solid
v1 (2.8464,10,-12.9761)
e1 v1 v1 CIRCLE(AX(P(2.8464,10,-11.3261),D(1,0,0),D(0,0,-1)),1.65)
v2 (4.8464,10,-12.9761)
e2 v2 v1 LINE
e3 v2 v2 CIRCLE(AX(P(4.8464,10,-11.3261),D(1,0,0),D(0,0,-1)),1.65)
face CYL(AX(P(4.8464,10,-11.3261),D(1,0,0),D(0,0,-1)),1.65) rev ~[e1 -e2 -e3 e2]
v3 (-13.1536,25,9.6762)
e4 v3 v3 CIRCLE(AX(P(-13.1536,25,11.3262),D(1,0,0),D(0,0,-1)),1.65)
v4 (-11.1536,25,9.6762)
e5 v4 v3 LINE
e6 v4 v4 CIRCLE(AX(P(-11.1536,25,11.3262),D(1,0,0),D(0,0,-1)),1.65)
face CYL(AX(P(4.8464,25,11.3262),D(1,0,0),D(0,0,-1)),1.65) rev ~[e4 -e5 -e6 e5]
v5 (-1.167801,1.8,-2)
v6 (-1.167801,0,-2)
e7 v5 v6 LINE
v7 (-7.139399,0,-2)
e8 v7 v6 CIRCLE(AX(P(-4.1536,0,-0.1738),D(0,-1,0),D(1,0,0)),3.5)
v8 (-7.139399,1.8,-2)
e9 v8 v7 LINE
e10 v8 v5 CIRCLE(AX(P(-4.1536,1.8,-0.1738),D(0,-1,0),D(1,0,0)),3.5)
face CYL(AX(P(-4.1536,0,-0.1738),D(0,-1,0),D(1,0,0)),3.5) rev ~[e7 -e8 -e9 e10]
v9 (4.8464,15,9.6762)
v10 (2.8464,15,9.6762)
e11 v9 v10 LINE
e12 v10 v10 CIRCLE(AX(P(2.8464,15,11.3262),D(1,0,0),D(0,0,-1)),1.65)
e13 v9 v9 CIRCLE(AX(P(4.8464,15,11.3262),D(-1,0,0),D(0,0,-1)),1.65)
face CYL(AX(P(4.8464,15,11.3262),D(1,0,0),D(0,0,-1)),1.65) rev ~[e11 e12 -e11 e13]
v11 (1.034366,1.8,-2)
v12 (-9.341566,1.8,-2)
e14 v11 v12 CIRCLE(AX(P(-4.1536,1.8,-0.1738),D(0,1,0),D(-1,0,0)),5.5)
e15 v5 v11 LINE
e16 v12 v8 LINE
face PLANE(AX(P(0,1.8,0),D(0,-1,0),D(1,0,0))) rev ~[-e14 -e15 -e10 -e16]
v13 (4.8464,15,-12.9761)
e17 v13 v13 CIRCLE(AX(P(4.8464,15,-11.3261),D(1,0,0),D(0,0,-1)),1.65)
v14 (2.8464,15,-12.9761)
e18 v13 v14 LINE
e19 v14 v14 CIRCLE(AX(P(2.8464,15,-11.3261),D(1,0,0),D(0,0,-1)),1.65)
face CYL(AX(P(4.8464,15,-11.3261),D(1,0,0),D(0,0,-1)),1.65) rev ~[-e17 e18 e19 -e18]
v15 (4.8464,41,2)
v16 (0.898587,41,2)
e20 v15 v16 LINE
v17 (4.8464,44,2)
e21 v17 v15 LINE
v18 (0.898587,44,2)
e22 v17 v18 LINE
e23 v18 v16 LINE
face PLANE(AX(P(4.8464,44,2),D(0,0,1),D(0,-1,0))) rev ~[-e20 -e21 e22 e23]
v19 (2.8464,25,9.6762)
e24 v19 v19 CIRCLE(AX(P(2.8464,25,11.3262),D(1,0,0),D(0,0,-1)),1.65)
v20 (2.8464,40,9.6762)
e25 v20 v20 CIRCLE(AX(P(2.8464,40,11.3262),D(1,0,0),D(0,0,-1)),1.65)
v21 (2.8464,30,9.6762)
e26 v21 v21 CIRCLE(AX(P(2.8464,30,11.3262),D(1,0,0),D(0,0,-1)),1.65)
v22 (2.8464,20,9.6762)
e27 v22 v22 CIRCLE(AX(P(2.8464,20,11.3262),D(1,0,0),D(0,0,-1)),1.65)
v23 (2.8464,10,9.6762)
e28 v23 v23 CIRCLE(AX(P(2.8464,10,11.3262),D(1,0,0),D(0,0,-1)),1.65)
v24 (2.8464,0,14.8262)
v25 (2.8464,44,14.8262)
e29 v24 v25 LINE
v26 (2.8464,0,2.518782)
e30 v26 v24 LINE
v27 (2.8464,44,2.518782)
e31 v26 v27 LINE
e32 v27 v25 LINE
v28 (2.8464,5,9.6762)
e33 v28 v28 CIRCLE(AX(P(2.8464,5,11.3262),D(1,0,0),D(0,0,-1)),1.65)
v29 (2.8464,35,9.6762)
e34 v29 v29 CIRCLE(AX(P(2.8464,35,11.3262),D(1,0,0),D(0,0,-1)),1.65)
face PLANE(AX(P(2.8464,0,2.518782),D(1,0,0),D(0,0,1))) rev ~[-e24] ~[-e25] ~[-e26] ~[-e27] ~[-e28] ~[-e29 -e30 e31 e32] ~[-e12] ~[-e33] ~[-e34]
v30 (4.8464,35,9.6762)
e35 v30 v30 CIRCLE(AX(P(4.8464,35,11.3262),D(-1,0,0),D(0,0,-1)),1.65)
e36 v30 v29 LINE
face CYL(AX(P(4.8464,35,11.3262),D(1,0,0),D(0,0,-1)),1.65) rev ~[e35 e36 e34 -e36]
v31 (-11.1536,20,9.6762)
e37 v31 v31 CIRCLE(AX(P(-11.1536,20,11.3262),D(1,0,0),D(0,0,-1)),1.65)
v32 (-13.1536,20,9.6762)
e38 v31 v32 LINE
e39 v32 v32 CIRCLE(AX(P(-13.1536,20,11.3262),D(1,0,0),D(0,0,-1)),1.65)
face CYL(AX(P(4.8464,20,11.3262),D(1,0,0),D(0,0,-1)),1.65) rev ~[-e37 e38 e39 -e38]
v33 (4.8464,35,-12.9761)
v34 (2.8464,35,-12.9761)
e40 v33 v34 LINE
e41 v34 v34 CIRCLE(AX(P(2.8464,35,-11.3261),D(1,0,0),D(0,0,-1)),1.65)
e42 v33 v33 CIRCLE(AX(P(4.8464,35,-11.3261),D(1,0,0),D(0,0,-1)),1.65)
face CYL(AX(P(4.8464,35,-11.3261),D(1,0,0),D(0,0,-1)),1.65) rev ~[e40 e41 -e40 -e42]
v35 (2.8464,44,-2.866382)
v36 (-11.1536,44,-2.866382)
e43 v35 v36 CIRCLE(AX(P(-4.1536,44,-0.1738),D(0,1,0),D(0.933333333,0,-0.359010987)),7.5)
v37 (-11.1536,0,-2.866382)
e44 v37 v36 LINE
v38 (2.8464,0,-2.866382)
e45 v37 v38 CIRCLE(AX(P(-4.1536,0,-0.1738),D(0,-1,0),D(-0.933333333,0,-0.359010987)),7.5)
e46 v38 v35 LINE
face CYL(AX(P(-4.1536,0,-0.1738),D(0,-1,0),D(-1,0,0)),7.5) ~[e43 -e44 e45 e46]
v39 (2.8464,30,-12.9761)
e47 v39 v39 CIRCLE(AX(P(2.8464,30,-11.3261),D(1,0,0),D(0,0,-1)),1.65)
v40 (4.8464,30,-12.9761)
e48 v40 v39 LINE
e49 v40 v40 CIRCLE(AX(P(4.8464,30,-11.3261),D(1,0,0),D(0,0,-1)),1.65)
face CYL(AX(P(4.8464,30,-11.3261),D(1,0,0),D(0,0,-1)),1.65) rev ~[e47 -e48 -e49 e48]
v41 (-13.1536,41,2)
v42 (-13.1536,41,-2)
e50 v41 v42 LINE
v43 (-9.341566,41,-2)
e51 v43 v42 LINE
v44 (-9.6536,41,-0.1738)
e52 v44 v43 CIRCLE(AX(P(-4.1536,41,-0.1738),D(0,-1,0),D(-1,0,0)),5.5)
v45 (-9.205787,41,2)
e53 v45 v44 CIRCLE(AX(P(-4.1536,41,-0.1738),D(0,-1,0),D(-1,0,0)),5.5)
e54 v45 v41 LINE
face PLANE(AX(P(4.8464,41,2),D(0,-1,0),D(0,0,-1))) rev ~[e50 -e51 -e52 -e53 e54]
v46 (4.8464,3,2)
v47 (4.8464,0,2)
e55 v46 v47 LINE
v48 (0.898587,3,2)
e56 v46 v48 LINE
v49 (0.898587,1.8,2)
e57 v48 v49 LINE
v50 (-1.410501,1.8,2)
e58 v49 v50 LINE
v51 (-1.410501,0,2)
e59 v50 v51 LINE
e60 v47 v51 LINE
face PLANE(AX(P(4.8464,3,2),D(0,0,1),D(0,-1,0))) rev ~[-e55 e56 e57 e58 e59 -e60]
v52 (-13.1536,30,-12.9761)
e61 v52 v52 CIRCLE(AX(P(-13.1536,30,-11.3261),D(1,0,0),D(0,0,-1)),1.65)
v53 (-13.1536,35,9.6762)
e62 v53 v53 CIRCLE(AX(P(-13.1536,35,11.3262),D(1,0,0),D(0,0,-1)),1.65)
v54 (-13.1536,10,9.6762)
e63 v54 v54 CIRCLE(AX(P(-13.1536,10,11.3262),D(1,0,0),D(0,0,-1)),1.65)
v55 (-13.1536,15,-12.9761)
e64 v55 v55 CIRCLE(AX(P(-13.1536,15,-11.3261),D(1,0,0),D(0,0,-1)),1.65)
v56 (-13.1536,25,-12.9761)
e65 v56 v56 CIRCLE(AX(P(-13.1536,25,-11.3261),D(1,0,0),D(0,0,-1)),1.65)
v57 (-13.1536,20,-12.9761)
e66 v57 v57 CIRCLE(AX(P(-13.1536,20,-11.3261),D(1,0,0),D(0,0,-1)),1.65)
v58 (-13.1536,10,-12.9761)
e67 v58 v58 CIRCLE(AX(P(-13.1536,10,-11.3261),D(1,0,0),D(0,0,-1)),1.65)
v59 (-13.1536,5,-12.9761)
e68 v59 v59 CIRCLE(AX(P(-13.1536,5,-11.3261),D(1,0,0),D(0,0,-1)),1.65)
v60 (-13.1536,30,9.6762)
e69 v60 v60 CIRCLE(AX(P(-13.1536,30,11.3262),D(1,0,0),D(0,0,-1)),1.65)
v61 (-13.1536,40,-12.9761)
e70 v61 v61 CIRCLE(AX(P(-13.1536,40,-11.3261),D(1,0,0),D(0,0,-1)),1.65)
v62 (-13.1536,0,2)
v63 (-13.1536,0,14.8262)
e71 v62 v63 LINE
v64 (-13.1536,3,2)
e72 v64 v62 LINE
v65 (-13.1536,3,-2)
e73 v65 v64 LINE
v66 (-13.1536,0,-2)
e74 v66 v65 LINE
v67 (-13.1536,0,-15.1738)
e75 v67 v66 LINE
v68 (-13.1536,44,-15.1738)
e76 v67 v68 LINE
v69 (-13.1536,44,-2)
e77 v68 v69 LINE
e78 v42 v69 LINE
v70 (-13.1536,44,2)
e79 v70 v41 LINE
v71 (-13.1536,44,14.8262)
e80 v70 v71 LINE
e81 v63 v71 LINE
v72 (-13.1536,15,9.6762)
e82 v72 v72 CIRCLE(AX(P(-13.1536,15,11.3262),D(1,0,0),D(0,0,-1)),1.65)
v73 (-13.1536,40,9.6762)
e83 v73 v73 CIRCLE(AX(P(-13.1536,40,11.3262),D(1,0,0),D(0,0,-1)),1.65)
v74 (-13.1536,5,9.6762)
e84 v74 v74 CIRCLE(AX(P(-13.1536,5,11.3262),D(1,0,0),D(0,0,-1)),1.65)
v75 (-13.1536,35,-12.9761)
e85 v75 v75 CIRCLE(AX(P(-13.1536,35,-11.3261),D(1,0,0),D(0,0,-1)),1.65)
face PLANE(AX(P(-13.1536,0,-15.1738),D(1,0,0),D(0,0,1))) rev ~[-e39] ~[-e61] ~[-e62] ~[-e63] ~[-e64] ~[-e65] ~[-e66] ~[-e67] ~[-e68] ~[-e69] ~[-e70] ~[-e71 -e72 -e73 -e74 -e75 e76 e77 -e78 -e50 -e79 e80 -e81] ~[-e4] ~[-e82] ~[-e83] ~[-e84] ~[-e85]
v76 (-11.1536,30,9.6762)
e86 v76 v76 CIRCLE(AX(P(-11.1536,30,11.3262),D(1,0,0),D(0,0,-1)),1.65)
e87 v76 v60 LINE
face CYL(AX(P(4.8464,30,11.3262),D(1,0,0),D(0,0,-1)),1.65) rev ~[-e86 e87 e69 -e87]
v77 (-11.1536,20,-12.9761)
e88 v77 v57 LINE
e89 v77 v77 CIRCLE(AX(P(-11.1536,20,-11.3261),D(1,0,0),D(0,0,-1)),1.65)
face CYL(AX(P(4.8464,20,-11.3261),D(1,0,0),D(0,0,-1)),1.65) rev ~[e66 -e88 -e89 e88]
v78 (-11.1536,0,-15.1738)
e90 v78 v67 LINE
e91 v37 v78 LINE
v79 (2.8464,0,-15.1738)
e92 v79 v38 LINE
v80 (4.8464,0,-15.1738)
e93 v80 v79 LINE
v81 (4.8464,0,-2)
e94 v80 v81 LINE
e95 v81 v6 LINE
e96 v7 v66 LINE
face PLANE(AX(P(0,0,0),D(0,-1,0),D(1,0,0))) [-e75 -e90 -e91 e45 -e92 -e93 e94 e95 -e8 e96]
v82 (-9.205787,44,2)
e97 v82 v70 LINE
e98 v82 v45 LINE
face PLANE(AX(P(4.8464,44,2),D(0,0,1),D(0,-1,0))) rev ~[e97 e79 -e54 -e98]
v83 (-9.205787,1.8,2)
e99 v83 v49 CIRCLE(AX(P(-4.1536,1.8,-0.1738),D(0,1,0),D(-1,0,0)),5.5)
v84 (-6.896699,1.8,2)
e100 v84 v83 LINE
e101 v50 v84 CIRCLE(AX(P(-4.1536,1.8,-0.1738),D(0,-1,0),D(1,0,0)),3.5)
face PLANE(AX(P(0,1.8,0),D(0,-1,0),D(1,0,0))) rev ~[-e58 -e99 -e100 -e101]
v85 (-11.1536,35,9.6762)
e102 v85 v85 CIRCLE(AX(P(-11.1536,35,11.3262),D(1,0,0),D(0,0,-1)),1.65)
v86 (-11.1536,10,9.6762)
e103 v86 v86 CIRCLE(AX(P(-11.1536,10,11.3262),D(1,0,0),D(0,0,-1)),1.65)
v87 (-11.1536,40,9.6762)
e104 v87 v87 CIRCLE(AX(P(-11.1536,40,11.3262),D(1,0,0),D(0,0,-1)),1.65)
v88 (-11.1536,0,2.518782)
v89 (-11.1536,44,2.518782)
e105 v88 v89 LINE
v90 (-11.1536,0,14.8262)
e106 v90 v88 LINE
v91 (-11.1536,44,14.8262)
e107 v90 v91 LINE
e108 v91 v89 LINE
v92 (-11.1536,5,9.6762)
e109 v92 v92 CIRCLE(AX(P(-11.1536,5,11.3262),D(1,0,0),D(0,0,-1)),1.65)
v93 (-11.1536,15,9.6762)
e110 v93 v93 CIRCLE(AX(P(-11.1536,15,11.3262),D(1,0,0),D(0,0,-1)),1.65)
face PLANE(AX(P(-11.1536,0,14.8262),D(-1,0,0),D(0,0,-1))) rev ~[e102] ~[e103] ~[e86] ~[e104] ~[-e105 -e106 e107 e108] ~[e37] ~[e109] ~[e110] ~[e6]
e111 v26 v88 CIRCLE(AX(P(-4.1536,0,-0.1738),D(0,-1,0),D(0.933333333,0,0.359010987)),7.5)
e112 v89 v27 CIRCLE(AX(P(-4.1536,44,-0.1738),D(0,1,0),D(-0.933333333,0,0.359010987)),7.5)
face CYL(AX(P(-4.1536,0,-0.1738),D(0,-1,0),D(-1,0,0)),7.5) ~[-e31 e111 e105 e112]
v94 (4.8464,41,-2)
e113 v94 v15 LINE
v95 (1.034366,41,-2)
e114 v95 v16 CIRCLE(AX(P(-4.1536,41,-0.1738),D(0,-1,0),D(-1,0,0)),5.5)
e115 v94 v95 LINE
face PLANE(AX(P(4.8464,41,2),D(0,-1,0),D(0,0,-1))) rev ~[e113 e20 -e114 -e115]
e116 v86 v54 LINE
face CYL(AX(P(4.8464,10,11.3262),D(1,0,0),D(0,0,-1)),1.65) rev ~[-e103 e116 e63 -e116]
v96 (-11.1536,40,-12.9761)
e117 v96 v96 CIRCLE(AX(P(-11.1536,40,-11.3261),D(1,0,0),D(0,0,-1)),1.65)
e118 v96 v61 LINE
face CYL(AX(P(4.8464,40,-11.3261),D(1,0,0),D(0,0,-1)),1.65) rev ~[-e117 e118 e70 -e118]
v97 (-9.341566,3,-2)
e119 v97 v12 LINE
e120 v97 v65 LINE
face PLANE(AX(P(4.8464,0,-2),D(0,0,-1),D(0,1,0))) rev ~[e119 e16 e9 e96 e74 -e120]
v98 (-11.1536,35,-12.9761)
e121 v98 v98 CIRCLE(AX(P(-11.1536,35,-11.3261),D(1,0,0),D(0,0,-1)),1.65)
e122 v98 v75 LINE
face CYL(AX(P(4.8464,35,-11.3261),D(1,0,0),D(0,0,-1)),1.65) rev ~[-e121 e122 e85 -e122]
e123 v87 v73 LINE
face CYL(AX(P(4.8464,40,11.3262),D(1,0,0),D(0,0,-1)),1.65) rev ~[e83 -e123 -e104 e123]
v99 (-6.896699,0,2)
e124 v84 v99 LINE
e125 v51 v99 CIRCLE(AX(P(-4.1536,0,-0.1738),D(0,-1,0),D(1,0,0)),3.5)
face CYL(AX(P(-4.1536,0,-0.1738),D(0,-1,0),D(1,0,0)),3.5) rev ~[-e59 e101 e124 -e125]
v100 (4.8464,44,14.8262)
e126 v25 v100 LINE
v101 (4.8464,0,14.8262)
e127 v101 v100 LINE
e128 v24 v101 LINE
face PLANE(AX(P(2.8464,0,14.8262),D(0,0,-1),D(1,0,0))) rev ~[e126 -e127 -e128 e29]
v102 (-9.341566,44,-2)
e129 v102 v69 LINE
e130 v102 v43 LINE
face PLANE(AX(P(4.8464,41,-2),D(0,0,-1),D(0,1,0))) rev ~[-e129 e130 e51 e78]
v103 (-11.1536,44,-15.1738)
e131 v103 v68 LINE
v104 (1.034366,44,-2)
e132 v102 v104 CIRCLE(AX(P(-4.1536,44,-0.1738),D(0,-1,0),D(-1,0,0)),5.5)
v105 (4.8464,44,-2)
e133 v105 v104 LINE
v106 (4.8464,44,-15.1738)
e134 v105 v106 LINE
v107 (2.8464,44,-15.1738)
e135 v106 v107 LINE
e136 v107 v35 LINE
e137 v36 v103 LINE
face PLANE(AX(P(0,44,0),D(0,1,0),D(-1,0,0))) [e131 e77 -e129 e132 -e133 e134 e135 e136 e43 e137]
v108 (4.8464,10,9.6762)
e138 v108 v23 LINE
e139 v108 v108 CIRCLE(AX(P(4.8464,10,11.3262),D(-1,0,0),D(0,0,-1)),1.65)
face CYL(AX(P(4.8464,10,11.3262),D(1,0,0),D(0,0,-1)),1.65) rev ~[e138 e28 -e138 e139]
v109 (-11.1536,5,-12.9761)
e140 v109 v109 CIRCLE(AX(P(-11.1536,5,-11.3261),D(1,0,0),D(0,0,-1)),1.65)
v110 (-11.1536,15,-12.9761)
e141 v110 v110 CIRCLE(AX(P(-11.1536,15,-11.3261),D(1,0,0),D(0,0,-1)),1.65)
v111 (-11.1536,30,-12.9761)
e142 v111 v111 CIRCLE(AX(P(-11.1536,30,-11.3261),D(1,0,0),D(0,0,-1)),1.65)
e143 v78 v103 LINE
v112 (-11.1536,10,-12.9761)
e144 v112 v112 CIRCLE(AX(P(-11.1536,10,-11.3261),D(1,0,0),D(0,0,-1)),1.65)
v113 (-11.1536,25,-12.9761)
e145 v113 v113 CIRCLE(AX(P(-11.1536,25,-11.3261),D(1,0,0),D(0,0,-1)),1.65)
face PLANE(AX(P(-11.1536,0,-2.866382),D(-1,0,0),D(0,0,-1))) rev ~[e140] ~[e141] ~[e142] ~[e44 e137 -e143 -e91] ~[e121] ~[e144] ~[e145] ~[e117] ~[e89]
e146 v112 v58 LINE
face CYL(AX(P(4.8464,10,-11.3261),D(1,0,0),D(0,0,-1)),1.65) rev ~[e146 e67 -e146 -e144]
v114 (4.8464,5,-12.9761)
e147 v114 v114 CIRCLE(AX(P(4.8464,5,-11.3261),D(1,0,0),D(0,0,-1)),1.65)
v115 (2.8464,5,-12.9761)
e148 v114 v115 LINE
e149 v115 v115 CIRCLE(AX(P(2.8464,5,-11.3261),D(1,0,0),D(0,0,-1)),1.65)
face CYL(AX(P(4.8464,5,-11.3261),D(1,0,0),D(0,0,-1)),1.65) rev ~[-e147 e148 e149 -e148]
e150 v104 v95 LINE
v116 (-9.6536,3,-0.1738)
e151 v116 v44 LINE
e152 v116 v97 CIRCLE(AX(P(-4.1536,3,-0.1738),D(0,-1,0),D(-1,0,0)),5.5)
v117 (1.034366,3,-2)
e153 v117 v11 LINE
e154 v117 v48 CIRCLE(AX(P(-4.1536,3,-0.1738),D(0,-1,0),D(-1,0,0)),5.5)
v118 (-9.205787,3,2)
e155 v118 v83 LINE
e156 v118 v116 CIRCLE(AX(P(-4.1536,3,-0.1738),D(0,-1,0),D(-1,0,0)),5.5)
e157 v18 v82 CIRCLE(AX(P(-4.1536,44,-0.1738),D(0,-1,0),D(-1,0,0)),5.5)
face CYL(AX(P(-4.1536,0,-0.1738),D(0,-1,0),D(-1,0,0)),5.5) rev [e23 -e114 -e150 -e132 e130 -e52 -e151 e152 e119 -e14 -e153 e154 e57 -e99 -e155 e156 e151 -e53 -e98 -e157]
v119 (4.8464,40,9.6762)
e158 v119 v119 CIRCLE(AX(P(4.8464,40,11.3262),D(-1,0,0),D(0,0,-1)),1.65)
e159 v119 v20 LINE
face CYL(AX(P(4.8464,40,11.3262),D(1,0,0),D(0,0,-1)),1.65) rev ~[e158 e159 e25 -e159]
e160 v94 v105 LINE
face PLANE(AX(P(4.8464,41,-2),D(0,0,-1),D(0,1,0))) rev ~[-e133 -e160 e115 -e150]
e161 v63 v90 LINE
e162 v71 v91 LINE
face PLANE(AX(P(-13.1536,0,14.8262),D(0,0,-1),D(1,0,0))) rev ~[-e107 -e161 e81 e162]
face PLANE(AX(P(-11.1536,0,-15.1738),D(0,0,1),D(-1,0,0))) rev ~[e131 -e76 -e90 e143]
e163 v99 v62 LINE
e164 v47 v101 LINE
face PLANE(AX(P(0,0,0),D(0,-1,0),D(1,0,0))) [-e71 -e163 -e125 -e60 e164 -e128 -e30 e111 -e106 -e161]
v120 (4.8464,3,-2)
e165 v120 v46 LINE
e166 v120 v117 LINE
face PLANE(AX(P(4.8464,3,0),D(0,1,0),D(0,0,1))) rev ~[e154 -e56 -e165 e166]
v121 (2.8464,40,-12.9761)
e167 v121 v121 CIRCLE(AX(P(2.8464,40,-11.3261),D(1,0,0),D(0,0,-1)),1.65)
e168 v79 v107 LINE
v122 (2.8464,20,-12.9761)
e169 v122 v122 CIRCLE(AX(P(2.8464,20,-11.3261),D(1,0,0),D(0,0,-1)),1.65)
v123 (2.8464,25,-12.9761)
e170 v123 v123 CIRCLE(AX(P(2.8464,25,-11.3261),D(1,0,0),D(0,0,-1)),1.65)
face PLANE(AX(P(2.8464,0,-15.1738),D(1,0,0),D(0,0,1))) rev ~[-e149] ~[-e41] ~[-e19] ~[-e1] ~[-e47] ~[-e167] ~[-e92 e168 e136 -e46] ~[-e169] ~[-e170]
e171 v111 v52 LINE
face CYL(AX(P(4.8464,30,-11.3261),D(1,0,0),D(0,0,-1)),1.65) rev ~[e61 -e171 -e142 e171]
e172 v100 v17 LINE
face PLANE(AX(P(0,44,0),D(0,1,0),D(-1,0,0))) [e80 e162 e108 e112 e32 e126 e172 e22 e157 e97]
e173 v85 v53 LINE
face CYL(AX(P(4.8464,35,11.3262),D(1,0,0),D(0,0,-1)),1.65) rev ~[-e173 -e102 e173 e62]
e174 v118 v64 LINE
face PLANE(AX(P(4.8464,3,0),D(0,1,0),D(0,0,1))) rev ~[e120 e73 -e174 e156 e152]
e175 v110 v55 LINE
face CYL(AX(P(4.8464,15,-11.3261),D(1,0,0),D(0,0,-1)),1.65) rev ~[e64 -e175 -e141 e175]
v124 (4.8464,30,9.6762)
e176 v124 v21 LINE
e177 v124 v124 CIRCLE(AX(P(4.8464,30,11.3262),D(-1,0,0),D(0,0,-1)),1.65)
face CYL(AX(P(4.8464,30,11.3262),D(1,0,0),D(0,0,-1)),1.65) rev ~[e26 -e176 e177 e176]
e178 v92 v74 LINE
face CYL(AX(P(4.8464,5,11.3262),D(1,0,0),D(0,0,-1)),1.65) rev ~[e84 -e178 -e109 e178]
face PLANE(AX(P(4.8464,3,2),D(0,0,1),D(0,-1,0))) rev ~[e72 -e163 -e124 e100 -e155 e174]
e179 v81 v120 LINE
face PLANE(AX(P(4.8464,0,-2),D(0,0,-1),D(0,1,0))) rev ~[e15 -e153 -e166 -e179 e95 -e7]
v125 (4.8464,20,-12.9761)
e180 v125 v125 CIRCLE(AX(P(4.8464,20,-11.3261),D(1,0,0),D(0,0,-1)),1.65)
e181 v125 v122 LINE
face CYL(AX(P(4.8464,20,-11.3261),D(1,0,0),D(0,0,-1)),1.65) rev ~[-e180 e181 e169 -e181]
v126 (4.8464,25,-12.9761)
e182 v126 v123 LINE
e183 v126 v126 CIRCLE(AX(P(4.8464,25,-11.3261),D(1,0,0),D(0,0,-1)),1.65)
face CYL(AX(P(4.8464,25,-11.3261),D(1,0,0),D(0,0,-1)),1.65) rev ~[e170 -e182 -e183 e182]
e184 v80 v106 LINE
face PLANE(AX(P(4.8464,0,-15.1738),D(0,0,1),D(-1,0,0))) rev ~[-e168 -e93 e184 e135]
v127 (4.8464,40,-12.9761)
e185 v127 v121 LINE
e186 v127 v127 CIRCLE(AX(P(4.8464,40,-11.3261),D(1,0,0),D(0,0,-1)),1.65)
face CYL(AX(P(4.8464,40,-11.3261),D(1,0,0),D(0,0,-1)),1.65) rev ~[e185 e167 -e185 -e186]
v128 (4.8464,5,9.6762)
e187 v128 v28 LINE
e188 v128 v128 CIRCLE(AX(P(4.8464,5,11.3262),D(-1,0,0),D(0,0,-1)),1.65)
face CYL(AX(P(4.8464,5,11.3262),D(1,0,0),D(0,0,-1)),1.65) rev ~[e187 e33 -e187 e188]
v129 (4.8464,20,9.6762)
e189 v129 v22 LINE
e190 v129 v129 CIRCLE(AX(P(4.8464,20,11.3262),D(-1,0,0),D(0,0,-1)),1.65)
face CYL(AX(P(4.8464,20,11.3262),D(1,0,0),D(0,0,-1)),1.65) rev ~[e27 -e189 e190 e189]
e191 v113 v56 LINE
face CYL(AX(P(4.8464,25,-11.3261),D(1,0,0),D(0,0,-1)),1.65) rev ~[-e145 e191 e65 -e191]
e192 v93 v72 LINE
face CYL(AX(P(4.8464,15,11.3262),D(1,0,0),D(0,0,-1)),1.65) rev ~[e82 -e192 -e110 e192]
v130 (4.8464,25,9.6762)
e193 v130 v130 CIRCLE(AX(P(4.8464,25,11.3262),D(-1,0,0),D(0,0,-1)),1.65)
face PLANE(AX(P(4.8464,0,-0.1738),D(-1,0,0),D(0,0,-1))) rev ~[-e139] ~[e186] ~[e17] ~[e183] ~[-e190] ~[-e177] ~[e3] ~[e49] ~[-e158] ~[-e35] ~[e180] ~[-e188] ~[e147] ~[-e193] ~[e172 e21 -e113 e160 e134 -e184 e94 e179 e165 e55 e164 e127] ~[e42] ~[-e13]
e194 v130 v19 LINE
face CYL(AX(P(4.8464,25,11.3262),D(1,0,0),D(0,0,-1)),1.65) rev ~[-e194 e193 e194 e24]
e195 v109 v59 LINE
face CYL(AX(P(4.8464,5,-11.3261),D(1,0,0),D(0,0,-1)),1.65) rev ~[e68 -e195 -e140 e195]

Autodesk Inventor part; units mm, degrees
ref_plane "YZ Plane" through (0, 0, 0) normal (1, 0, 0) x (0, 1, 0)
ref_plane "XZ Plane" through (0, 0, 0) normal (0, 1, 0) x (-1, 0, 0)
ref_plane "XY Plane" through (0, 0, 0) normal (0, 0, 1) x (1, 0, 0)
sketch "Sketch1" plane through (0, 0, 0) normal (0, 1, 0) x (-1, 0, 0)
  line L0 (13.1536, 14.8262) -> (11.1536, 14.8262)
  line L1 (11.1536, 14.8262) -> (11.1536, -15.1738)
  line L2 (11.1536, -15.1738) -> (13.1536, -15.1738)
  line L3 (13.1536, -15.1738) -> (13.1536, 14.8262)
  line L4 (-2.8464, 14.8262) -> (-4.8464, 14.8262)
  line L5 (-4.8464, 14.8262) -> (-4.8464, -15.1738)
  line L6 (-4.8464, -15.1738) -> (-2.8464, -15.1738)
  line L7 (-2.8464, -15.1738) -> (-2.8464, 14.8262)
  line L8 (11.4509, -0.1738) -> (-13.3196, -0.1738)
  line L9 (4.1536, 20.4248) -> (4.1536, -20.4682)
  circle A0 centre (4.1536, -0.1738) radius 5.5
  circle A1 centre (4.1536, -0.1738) radius 7.5
  point P0 (0, 0)
  dimension "d2" = 14
  dimension "d3" = 2
  dimension "d4" = 2
  dimension "d5" = 11
  dimension "d6" = 15
extrude "Extrusion1" add sketch "Sketch1" along normal blind 44 contours L3 L2 L1 A1 L0 | A1 L1 | L1 L8 A0 L9 A1 | L1 A1 L9 A0 L8 | L9 A0 L8 L7 A1 | A1 L8 L5 L4 L7 | L7 L8 A1 | A1 L7 L8 A0 L9 | L7 A1 L8 | A1 L7 L6 L5 L8
sketch "Sketch2" plane through (4.8464, 0, 14.8262) normal (1, 0, 0) x (0, 0, -1)
  line L0 (14.8262, 0) -> (14.8262, 49.2692)
  line L1 (3.5, 48.2793) -> (3.5, -5.9843)
  circle A0 centre (3.5, 40) radius 1.65
  line L2 (0, 0) -> (0, 44) projected
  line L3 (0, 44) -> (30, 44) projected
  circle A1 centre (3.5, 35) radius 1.65
  circle A2 centre (3.5, 30) radius 1.65
  circle A3 centre (3.5, 25) radius 1.65
  circle A4 centre (3.5, 20) radius 1.65
  circle A5 centre (3.5, 15) radius 1.65
  circle A6 centre (3.5, 10) radius 1.65
  circle A7 centre (3.5, 5) radius 1.65
  circle A8 centre (26.1523, 40) radius 1.65
  line L4 (29.6523, 0) -> (29.6523, 44)
  circle A9 centre (26.1523, 35) radius 1.65
  circle A10 centre (26.1523, 30) radius 1.65
  circle A11 centre (26.1523, 25) radius 1.65
  circle A12 centre (26.1523, 20) radius 1.65
  circle A13 centre (26.1523, 15) radius 1.65
  circle A14 centre (26.1523, 10) radius 1.65
  circle A15 centre (26.1523, 5) radius 1.65
  circle A16 centre (3.5, 0) radius 1.65
  circle A17 centre (26.1523, 0) radius 1.65
  point P0 (26.1523, 48.2793)
  dimension "d9" = 3.5
  dimension "d10" = 3.3
  dimension "d11" = 4
  dimension "d14" = 5
  dimension "d26" = 5
extrude "Extrusion2" cut sketch "Sketch2" against normal through all contours A0 L1 | A7 L1 | L1 A7 | A6 L1 | L1 A6 | A5 L1 | L1 A5 | A4 L1 | L1 A4 | A3 L1 | L1 A3 | A2 L1 | L1 A2 | A1 L1 | L1 A1 | L1 A0 | A8 | A9 | A10 | A11 | A12 | A13 | A14 | A15
sketch "Sketch3" plane through (0, 0, 0) normal (0, -1, 0) x (1, 0, 0)
  circle A0 centre (-4.1536, -0.1738) radius 5.5 projected
  circle A1 centre (-4.1536, -0.1738) radius 3.5
  point P0 (0, 0)
  dimension "d21" = 2
extrude "Extrusion3" add sketch "Sketch3" against normal blind 1.8
sketch "Sketch4" plane through (4.8464, 0, 14.8262) normal (1, 0, 0) x (0, 0, -1)
  line L0 (14.8262, 0) -> (14.8262, 46.2334)
  line L1 (0, 0) -> (12.3074, 0) projected
  line L2 (12.8262, 0) -> (16.8262, 0)
  line L3 (16.8262, 0) -> (16.8262, 3)
  line L4 (16.8262, 3) -> (12.8262, 3)
  line L5 (12.8262, 3) -> (12.8262, 0)
  line L6 (12.8262, 41) -> (16.8262, 41)
  line L7 (16.8262, 41) -> (16.8262, 44)
  line L8 (16.8262, 44) -> (12.8262, 44)
  line L9 (12.8262, 44) -> (12.8262, 41)
  dimension "d32" = 4
  dimension "d33" = 3
  dimension "d34" = 4
  dimension "d35" = 3
extrude "Extrusion4" cut sketch "Sketch4" against normal through all
ref_plane "Work Plane1" through (-4.1536, 0, 7.3262) normal (0, 0, 1) x (1, 0, 0)
properties part number "slider-magnet-carrier"
